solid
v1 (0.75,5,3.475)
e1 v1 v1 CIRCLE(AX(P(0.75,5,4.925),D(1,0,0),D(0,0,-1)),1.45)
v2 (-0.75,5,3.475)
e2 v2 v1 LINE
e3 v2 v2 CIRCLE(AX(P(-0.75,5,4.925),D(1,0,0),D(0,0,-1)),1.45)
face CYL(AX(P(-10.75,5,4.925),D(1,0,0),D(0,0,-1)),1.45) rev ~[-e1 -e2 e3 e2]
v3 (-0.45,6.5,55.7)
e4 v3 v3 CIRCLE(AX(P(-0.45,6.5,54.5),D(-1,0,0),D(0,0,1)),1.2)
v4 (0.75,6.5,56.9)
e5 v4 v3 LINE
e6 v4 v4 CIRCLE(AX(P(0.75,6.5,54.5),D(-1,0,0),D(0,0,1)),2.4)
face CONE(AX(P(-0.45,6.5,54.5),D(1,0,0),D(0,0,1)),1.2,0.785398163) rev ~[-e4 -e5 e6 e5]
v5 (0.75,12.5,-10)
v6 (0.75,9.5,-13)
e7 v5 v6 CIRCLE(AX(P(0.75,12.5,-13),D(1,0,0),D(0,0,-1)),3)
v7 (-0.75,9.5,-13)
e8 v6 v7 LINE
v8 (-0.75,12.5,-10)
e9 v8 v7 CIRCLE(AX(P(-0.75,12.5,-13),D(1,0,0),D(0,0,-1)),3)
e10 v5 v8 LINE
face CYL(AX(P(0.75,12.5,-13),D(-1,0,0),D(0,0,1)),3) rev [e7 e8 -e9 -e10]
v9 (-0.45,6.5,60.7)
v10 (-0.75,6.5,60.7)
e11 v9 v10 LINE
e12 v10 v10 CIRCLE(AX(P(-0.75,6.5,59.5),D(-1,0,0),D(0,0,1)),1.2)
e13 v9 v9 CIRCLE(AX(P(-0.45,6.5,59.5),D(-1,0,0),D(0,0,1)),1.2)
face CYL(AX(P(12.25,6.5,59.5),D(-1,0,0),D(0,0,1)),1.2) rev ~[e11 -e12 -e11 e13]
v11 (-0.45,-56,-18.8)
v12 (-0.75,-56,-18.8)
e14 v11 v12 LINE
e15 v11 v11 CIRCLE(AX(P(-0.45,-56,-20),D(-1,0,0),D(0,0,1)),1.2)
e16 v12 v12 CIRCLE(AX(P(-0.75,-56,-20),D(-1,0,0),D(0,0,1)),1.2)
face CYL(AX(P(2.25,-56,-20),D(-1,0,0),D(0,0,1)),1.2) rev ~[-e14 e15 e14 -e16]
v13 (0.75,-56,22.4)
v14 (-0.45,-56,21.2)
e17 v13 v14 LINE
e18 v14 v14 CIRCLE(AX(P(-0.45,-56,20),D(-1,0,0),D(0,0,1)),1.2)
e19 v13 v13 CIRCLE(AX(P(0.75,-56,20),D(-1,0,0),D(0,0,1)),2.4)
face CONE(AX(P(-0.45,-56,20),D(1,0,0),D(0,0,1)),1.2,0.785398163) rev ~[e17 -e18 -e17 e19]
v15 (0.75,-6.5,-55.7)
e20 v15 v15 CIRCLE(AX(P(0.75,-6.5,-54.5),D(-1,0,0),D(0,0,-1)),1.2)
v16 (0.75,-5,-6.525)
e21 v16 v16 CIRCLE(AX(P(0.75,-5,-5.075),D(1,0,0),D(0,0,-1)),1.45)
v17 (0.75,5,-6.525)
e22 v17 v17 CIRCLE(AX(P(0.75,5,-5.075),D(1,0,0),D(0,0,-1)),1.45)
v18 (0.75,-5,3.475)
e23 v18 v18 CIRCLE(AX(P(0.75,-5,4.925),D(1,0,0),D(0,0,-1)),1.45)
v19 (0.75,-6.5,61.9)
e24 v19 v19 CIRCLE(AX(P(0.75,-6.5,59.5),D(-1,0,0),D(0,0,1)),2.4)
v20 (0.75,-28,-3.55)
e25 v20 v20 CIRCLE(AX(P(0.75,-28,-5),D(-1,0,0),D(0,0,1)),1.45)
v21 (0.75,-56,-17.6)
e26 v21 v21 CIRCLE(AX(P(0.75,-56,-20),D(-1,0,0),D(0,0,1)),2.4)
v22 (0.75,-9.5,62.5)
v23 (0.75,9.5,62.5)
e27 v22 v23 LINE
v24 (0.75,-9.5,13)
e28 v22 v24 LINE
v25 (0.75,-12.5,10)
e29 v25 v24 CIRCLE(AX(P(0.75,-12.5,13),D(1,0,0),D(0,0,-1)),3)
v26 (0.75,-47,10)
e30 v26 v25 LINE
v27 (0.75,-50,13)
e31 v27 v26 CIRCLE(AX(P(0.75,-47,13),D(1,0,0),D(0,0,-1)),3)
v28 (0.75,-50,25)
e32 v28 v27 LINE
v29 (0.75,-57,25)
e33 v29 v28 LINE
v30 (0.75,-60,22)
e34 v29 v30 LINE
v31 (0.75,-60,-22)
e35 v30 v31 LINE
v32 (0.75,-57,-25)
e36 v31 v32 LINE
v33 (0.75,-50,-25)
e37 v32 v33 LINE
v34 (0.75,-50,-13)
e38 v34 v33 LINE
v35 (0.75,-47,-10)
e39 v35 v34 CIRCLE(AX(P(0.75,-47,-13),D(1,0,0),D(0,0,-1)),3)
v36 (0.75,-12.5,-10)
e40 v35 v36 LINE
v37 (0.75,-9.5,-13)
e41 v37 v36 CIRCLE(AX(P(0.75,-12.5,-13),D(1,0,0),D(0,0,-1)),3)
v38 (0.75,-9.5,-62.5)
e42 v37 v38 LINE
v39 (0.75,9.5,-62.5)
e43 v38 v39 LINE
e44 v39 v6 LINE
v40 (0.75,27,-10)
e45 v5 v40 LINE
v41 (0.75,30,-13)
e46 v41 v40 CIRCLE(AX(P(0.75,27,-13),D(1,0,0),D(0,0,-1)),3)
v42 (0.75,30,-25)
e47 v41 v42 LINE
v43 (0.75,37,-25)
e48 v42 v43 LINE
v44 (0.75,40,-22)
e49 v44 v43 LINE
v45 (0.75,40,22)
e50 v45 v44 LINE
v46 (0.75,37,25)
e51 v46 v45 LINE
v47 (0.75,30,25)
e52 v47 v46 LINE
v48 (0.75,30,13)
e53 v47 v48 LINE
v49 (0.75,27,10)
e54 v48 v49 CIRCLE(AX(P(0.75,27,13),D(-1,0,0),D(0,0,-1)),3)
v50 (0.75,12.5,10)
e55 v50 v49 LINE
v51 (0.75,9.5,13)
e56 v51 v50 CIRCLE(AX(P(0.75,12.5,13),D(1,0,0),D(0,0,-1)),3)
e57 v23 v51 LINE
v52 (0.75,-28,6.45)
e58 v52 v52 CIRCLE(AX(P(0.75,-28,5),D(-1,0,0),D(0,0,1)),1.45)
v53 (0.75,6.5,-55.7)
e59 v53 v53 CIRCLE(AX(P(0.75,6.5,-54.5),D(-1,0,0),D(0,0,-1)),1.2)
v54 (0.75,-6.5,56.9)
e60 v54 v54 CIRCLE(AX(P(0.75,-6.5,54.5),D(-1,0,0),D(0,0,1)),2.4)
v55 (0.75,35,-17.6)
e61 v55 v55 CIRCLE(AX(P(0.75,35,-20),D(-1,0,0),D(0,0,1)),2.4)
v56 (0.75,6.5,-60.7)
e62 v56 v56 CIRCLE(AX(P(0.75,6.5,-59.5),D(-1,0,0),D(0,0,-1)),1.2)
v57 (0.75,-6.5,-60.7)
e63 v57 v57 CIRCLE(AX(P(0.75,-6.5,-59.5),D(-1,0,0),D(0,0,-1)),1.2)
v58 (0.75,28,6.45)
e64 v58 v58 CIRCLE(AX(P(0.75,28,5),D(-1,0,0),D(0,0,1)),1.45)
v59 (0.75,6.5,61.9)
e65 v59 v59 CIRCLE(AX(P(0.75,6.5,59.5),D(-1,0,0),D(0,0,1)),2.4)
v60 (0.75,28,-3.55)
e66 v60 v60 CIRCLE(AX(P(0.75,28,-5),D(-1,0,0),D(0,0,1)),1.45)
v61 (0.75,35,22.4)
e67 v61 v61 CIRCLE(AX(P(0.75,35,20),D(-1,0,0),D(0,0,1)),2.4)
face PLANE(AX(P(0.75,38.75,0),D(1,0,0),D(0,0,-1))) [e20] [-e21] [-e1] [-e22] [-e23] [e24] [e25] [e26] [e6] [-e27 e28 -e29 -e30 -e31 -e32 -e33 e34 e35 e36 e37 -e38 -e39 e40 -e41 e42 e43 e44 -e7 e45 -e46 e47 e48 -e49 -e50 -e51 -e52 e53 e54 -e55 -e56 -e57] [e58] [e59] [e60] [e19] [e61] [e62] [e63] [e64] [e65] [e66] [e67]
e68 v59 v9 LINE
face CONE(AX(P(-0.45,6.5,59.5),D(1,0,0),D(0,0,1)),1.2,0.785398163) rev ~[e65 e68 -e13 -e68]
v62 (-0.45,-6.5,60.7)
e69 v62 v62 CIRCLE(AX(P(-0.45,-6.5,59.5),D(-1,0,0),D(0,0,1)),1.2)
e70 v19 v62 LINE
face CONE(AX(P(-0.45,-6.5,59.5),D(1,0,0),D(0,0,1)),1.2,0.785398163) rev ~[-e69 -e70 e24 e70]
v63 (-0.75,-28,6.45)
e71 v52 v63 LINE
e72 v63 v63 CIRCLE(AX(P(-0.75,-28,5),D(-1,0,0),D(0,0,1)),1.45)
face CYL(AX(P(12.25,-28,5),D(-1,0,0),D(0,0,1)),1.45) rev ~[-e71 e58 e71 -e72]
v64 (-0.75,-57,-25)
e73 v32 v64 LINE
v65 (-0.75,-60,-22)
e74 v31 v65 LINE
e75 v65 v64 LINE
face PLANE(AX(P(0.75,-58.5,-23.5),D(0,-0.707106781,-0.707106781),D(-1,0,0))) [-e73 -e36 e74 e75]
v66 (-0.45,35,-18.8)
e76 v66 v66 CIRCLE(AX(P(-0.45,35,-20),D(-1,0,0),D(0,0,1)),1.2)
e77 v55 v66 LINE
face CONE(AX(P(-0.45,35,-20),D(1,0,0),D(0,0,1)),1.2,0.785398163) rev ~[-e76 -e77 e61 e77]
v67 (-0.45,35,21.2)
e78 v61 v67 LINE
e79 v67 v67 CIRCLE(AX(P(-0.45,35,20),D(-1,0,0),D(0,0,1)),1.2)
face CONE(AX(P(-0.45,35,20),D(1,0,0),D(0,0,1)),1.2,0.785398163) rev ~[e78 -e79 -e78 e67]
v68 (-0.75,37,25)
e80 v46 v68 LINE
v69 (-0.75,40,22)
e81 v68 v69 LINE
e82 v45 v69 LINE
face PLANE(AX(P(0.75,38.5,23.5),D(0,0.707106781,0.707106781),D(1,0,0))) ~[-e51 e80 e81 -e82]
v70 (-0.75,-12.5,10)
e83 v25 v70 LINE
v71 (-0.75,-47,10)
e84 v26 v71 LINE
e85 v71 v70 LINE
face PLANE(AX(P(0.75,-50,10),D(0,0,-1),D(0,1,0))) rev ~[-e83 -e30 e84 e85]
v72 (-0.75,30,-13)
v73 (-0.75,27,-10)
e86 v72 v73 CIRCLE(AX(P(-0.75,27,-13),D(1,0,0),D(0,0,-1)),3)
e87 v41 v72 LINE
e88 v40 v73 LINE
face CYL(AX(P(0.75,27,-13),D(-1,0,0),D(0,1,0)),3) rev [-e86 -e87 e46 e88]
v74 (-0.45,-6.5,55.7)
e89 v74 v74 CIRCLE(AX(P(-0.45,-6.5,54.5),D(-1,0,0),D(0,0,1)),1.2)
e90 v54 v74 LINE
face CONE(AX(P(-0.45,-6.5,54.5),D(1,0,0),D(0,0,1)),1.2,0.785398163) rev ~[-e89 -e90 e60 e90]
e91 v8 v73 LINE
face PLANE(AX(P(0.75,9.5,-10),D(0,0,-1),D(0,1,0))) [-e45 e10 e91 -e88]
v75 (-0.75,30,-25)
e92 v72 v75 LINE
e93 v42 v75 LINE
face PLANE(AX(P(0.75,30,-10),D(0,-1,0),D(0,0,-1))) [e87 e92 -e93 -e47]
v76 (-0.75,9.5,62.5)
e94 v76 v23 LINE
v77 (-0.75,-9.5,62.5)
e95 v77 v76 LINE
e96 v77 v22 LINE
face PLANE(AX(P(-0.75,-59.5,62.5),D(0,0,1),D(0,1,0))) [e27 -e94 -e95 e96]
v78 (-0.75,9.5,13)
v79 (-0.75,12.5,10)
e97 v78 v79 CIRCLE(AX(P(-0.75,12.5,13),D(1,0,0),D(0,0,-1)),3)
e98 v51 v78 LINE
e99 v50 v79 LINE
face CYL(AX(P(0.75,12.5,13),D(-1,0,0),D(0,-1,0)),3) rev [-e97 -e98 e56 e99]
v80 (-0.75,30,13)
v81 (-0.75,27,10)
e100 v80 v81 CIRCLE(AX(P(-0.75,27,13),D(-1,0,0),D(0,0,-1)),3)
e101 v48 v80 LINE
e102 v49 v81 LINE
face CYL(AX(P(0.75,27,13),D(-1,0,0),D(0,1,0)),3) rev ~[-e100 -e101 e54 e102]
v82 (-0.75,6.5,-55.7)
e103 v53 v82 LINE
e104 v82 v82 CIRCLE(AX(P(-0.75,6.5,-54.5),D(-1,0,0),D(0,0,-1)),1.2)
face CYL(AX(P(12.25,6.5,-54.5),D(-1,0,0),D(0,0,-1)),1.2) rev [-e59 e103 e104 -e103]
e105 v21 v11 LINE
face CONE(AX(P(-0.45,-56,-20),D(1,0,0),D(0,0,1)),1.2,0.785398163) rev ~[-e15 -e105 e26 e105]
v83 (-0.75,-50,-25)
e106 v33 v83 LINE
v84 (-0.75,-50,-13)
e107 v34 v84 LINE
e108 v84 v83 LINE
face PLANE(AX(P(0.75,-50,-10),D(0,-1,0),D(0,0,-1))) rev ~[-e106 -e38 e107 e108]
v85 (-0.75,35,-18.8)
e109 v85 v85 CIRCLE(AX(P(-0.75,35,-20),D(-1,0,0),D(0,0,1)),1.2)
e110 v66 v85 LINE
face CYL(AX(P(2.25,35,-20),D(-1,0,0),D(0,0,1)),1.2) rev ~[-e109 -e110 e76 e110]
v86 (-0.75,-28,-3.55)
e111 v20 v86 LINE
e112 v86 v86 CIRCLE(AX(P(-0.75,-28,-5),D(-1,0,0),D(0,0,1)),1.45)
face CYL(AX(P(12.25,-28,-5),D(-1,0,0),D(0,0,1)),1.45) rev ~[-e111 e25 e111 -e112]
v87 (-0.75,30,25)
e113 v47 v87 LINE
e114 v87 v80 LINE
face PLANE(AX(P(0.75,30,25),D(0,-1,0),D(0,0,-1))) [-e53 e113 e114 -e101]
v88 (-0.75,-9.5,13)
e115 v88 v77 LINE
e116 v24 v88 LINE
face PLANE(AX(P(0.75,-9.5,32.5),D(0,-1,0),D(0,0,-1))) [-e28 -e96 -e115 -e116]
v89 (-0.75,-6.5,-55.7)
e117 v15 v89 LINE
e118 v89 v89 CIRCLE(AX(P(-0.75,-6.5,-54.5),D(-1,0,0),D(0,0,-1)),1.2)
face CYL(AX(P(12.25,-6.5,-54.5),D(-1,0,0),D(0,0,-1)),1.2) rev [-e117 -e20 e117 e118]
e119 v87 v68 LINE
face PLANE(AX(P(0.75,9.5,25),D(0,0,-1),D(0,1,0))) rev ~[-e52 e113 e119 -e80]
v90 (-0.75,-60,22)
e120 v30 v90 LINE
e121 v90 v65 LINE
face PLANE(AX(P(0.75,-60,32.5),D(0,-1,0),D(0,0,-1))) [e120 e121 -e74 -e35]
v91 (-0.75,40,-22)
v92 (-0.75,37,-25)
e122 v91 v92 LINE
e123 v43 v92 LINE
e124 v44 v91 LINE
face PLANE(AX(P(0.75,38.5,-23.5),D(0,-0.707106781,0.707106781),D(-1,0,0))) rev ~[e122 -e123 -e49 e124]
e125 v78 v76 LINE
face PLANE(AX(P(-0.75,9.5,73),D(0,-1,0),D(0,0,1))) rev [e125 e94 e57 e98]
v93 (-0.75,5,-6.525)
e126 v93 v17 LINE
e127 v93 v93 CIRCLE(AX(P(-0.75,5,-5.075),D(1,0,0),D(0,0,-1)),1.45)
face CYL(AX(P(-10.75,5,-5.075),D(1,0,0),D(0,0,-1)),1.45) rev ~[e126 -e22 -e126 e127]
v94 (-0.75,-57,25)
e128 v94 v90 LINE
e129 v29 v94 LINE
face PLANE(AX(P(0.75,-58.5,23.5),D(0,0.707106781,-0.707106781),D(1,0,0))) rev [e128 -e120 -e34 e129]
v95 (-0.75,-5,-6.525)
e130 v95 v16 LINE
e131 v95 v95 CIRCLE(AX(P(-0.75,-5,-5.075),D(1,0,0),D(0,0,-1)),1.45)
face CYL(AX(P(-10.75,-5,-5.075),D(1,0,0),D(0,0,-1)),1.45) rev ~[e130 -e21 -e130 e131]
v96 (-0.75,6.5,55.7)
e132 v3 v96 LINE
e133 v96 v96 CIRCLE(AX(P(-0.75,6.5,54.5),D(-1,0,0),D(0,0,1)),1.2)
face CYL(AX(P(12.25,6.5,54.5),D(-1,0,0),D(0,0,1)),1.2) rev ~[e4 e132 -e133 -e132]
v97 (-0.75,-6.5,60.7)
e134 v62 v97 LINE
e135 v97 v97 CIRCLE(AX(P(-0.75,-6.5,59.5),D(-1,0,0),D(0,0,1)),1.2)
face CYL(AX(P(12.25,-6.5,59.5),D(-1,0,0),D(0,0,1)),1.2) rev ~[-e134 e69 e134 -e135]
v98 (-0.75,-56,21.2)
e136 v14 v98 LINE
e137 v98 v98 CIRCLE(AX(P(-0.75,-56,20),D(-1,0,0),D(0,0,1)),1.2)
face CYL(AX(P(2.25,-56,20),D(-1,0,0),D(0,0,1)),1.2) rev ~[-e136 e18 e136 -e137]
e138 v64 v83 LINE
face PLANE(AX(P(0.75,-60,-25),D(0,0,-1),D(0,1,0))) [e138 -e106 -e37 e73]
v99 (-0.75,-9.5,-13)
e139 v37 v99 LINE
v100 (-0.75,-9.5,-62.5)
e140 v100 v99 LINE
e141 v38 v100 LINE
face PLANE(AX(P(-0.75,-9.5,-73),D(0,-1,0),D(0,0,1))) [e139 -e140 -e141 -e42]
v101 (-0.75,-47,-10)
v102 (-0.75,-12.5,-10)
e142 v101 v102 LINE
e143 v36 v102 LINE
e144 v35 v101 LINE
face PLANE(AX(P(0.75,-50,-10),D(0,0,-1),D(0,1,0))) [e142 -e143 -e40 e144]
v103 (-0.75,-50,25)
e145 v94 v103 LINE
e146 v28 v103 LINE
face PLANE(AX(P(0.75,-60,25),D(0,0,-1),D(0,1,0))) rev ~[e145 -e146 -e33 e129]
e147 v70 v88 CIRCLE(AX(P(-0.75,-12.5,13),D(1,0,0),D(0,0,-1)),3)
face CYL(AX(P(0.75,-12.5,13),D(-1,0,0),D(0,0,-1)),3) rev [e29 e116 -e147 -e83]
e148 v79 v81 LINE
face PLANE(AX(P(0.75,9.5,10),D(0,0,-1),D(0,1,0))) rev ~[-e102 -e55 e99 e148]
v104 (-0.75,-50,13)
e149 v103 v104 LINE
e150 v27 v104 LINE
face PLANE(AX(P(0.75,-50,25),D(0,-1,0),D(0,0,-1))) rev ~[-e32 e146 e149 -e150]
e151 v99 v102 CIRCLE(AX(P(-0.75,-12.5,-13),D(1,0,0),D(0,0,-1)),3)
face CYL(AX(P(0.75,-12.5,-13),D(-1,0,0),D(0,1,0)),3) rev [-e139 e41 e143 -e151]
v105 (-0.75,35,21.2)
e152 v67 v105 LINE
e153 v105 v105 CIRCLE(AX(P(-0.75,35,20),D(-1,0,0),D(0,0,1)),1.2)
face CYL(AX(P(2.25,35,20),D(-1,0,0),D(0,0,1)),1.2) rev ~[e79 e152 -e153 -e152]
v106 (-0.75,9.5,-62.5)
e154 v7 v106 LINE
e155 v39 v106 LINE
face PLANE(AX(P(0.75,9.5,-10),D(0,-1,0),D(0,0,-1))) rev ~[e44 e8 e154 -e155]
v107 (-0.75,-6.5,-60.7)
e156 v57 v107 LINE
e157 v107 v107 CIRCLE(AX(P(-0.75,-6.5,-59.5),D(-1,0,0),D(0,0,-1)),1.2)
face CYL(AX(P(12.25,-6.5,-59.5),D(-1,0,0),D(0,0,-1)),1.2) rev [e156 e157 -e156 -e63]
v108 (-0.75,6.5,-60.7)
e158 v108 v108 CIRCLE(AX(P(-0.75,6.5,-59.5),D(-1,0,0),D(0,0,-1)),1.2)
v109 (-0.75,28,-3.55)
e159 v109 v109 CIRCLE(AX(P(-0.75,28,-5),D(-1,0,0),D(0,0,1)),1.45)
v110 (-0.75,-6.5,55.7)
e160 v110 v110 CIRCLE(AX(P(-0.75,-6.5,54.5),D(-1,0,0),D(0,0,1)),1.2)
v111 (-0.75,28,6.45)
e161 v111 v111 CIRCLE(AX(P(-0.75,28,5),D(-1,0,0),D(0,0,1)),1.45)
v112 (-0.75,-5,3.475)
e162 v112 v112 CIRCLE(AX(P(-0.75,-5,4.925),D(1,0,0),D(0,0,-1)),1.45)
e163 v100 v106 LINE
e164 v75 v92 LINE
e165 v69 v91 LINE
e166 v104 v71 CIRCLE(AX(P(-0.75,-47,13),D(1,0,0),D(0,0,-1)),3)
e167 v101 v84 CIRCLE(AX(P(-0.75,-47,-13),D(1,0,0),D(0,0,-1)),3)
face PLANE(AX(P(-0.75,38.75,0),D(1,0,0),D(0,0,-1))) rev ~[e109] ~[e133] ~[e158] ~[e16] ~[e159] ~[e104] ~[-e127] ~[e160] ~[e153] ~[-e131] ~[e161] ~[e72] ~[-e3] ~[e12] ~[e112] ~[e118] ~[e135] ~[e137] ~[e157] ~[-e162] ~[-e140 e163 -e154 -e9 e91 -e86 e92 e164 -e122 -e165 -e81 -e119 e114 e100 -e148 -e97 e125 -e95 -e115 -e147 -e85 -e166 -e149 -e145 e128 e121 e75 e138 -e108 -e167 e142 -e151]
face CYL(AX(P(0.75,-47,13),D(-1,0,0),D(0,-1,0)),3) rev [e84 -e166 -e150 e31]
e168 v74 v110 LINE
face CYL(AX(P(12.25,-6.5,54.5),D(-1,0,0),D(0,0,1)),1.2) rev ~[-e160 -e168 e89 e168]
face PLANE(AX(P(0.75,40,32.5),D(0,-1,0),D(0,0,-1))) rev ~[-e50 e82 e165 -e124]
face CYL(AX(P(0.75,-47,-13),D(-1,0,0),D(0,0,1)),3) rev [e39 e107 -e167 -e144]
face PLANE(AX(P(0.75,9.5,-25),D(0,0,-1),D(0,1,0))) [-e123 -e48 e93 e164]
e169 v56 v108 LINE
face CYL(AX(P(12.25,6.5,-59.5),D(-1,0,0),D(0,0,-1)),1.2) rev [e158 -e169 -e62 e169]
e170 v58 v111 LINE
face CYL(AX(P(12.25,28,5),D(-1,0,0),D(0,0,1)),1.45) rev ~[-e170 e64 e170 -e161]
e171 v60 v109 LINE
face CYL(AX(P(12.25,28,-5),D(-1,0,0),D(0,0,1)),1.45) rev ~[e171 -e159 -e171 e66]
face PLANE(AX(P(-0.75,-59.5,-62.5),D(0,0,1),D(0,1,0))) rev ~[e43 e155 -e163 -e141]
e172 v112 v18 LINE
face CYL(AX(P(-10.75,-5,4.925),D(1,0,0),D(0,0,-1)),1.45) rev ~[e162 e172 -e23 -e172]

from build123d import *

# Parameters (mm, degrees)
SKETCH1_W                       = 1.5
SKETCH1_H                       = 25
BOSS_EXTRUDE1_DEPTH             = 73
BOSS_EXTRUDE1_DEPTH_BACK        = 73
FILLET1_R                       = 1
BOSS_EXTRUDE2_REACH             = 2.75
SKETCH10_W                      = 20
SKETCH10_H                      = 25
BOSS_EXTRUDE2_DIRECTION_2_REACH = 2.75
SKETCH16_W                      = 40.5
SKETCH16_H                      = 3
CUT_EXTRUDE2_DEPTH              = 10
SKETCH21_W                      = 65
SKETCH21_H                      = 47
BOSS_EXTRUDE4_DEPTH             = 1.5
FILLET4_R                       = 1.5
SKETCH17_W                      = 22.5
SKETCH17_H                      = 25
BOSS_EXTRUDE3_DEPTH             = 1.5
M2_CLEARANCE_HOLE4_D            = 2.4
M2_CLEARANCE_HOLE4_DEPTH        = 1.5
SKETCH22_OUTSIDE_W              = 183.058
SKETCH22_OUTSIDE_H              = 134.058
SKETCH22_OUTSIDE_W_2            = 125
SKETCH22_OUTSIDE_H_2            = 119
CUT_EXTRUDE4_DEPTH              = 10
M2_CLEARANCE_HOLE5_D            = 2.4
M2_CLEARANCE_HOLE5_DEPTH        = 11.5
SKETCH25_W                      = 65
SKETCH25_H                      = 2.5
SKETCH25_H_2                    = 0.5
BOSS_EXTRUDE5_DEPTH             = 1.5
M2_5_CLEARANCE_HOLE1_D          = 2.9
M2_5_CLEARANCE_HOLE1_DEPTH      = 11.5
SKETCH29_W                      = 7.5
SKETCH29_H                      = 30.5
SKETCH29_H_2                    = 50.5
CUT_EXTRUDE5_DEPTH              = 10
SKETCH31_W                      = 15
SKETCH31_H                      = 20.5
SKETCH31_H_2                    = 40.5
CUT_EXTRUDE7_DEPTH              = 10
FILLET5_R                       = 3
CHAMFER1_SIZE                   = 1.2
CHAMFER2_SIZE                   = 3
M2_5_CLEARANCE_HOLE2_D          = 2.9
M2_5_CLEARANCE_HOLE2_DEPTH      = 10


with BuildPart() as part:
    # Sketch1 → Boss-Extrude1 (new body, two sides)
    with BuildSketch(Plane.XY) as boss_extrude1_sk:
        Rectangle(SKETCH1_W, SKETCH1_H)
    extrude(amount=BOSS_EXTRUDE1_DEPTH)
    extrude(boss_extrude1_sk.sketch, amount=-BOSS_EXTRUDE1_DEPTH_BACK)

    # Fillet1
    fillet1_edges = [part.edges().sort_by_distance(p)[0] for p in [
        (0, -12.5, 73),
        (0, 12.5, -73),
        (0, 12.5, 73),
        (0, -12.5, -73),
    ]]
    fillet(fillet1_edges, radius=FILLET1_R)

    # Boss-Extrude2: up to this face of the body (flat: up to its plane)
    boss_extrude2_end = Plane(part.part.faces().sort_by_distance((0.75, 0, 0))[0])
    # Sketch10 → Boss-Extrude2 (add, up to the picked face)
    with BuildSketch(Plane(origin=(0, 0, 0), x_dir=(0, 0, -1), z_dir=(1, 0, 0)), mode=Mode.PRIVATE) as boss_extrude2_sk1:
        with Locations((0, 25)):
            Rectangle(SKETCH10_W, SKETCH10_H)
    boss_extrude2_tool1 = split(extrude(boss_extrude2_sk1.sketch, amount=BOSS_EXTRUDE2_REACH, mode=Mode.PRIVATE), bisect_by=boss_extrude2_end, keep=Keep.BOTH, mode=Mode.PRIVATE)
    add(boss_extrude2_tool1.solids().sort_by_distance((0, 25, 0))[0])

    # Boss-Extrude2 direction 2: up to this face of the body (flat: up to its plane)
    boss_extrude2_direction_2_end = Plane(part.part.faces().sort_by_distance((-0.75, 0, 0))[0])
    # Sketch10 → Boss-Extrude2 direction 2 (add, up to the picked face)
    with BuildSketch(Plane(origin=(0, 0, 0), x_dir=(0, 0, -1), z_dir=(1, 0, 0)), mode=Mode.PRIVATE) as boss_extrude2_direction_2_sk1:
        with Locations((0, 25)):
            Rectangle(SKETCH10_W, SKETCH10_H)
    boss_extrude2_direction_2_tool1 = split(extrude(boss_extrude2_direction_2_sk1.sketch, amount=-BOSS_EXTRUDE2_DIRECTION_2_REACH, mode=Mode.PRIVATE), bisect_by=boss_extrude2_direction_2_end, keep=Keep.BOTH, mode=Mode.PRIVATE)
    add(boss_extrude2_direction_2_tool1.solids().sort_by_distance((0, 25, 0))[0])

    # Sketch16 → Cut-Extrude2 (cut)
    with BuildSketch(Plane.ZY.offset(0.75)):
        with Locations((-52.75, 11)):
            Rectangle(SKETCH16_W, SKETCH16_H)
        with Locations((-52.75, -11)):
            Rectangle(SKETCH16_W, SKETCH16_H)
    cut_extrude2 = extrude(amount=-CUT_EXTRUDE2_DEPTH, mode=Mode.SUBTRACT)

    # Mirror3: Cut-Extrude2 across plane
    add(cut_extrude2.mirror(Plane.XY), mode=Mode.SUBTRACT)

    # Sketch21 → Boss-Extrude4 (add)
    with BuildSketch(Plane(origin=(0.75, 0, 0), x_dir=(0, 0, -1), z_dir=(1, 0, 0))):
        with Locations((0, -36)):
            Rectangle(SKETCH21_W, SKETCH21_H)
    extrude(amount=-BOSS_EXTRUDE4_DEPTH)

    # Fillet4
    fillet4_edges = [part.edges().sort_by_distance(p)[0] for p in [
        (0, 9.5, 73),
        (0, -9.5, 73),
        (0, 9.5, -73),
        (0, -9.5, -73),
    ]]
    fillet(fillet4_edges, radius=FILLET4_R)

    # Sketch17 → Boss-Extrude3 (add)
    with BuildSketch(Plane.ZY.offset(0.75)):
        with Locations((-21.25, 25)):
            Rectangle(SKETCH17_W, SKETCH17_H)
        with Locations((21.25, 25)):
            Rectangle(SKETCH17_W, SKETCH17_H)
    extrude(amount=-BOSS_EXTRUDE3_DEPTH)

    # M2 Clearance Hole4
    with Locations(Plane(origin=(0.75, 0, 0), x_dir=(0, 0, -1), z_dir=(1, 0, 0))):
        with Locations((20, 35), (-20, 35), (-20, -56), (20, -56)):
            Hole(M2_CLEARANCE_HOLE4_D / 2, depth=M2_CLEARANCE_HOLE4_DEPTH)

    # Sketch22 outside → Cut-Extrude4 (cut)
    with BuildSketch(Plane.ZY.offset(0.75)):
        with Locations((0, -11)):
            Rectangle(SKETCH22_OUTSIDE_W, SKETCH22_OUTSIDE_H)
        Rectangle(SKETCH22_OUTSIDE_W_2, SKETCH22_OUTSIDE_H_2, mode=Mode.SUBTRACT)
    extrude(amount=-CUT_EXTRUDE4_DEPTH, mode=Mode.SUBTRACT)

    # M2 Clearance Hole5
    with Locations(Plane(origin=(0.75, 0, 0), x_dir=(0, 0, -1), z_dir=(1, 0, 0))):
        with Locations((-54.5, -6.5), (-54.5, 6.5), (-59.5, 6.5), (-59.5, -6.5)):
            m2_clearance_hole5 = Hole(M2_CLEARANCE_HOLE5_D / 2, depth=M2_CLEARANCE_HOLE5_DEPTH)

    # Mirror4: M2 Clearance Hole5 across plane
    add(m2_clearance_hole5.mirror(Plane.XY), mode=Mode.SUBTRACT)

    # Sketch25 → Boss-Extrude5 (add)
    with BuildSketch(Plane(origin=(0.75, 0, 0), x_dir=(0, 0, -1), z_dir=(1, 0, 0))):
        with Locations((0, 38.75)):
            Rectangle(SKETCH25_W, SKETCH25_H)
        with Locations((0, -59.75)):
            Rectangle(SKETCH25_W, SKETCH25_H_2)
    extrude(amount=-BOSS_EXTRUDE5_DEPTH)

    # M2.5 Clearance Hole1
    with Locations(Plane(origin=(0.75, 0, 0), x_dir=(0, 0, -1), z_dir=(1, 0, 0))):
        with Locations((-5, -28), (5, -28), (5, 28), (-5, 28)):
            Hole(M2_5_CLEARANCE_HOLE1_D / 2, depth=M2_5_CLEARANCE_HOLE1_DEPTH)

    # Sketch29 → Cut-Extrude5 (cut)
    with BuildSketch(Plane(origin=(0.75, 0, 0), x_dir=(0, 0, -1), z_dir=(1, 0, 0))):
        with Locations((-28.75, 24.75)):
            Rectangle(SKETCH29_W, SKETCH29_H)
        with Locations((-28.75, -34.75)):
            Rectangle(SKETCH29_W, SKETCH29_H_2)
        with Locations((28.75, -34.75)):
            Rectangle(SKETCH29_W, SKETCH29_H_2)
        with Locations((28.75, 24.75)):
            Rectangle(SKETCH29_W, SKETCH29_H)
    extrude(amount=-CUT_EXTRUDE5_DEPTH, mode=Mode.SUBTRACT)

    # Sketch31 → Cut-Extrude7 (cut)
    with BuildSketch(Plane(origin=(0.75, 0, 0), x_dir=(0, 0, -1), z_dir=(1, 0, 0))):
        with Locations((-17.5, 19.75)):
            Rectangle(SKETCH31_W, SKETCH31_H)
        with Locations((-17.5, -29.75)):
            Rectangle(SKETCH31_W, SKETCH31_H_2)
        with Locations((17.5, -29.75)):
            Rectangle(SKETCH31_W, SKETCH31_H_2)
        with Locations((17.5, 19.75)):
            Rectangle(SKETCH31_W, SKETCH31_H)
    extrude(amount=-CUT_EXTRUDE7_DEPTH, mode=Mode.SUBTRACT)

    # Fillet5
    fillet5_edges = [part.edges().sort_by_distance(p)[0] for p in [
        (0, 30, 10),
        (0, 9.5, 10),
        (0, -9.5, 10),
        (0, -50, 10),
        (0, -9.5, -10),
        (0, -50, -10),
        (0, 9.5, -10),
        (0, 30, -10),
    ]]
    fillet(fillet5_edges, radius=FILLET5_R)

    # Chamfer1
    chamfer1_edges = [part.edges().sort_by_distance(p)[0] for p in [
        (0.75, -56, -21.2),
        (0.75, -56, 18.8),
        (0.75, 35, 18.8),
        (0.75, 35, -21.2),
        (0.75, -6.5, 58.3),
        (0.75, 6.5, 58.3),
        (0.75, 6.5, 53.3),
        (0.75, -6.5, 53.3),
    ]]
    chamfer(chamfer1_edges, length=CHAMFER1_SIZE)

    # Chamfer2
    chamfer2_edges = [part.edges().sort_by_distance(p)[0] for p in [
        (0, 40, 25),
        (0, -60, 25),
        (0, -60, -25),
        (0, 40, -25),
    ]]
    chamfer(chamfer2_edges, length=CHAMFER2_SIZE)

    # M2.5 Clearance Hole2
    with Locations(Plane.ZY.offset(0.75)):
        with Locations((-5.075, -5), (4.925, -5), (-5.075, 5), (4.925, 5)):
            Hole(M2_5_CLEARANCE_HOLE2_D / 2, depth=M2_5_CLEARANCE_HOLE2_DEPTH)


solid = part.part
